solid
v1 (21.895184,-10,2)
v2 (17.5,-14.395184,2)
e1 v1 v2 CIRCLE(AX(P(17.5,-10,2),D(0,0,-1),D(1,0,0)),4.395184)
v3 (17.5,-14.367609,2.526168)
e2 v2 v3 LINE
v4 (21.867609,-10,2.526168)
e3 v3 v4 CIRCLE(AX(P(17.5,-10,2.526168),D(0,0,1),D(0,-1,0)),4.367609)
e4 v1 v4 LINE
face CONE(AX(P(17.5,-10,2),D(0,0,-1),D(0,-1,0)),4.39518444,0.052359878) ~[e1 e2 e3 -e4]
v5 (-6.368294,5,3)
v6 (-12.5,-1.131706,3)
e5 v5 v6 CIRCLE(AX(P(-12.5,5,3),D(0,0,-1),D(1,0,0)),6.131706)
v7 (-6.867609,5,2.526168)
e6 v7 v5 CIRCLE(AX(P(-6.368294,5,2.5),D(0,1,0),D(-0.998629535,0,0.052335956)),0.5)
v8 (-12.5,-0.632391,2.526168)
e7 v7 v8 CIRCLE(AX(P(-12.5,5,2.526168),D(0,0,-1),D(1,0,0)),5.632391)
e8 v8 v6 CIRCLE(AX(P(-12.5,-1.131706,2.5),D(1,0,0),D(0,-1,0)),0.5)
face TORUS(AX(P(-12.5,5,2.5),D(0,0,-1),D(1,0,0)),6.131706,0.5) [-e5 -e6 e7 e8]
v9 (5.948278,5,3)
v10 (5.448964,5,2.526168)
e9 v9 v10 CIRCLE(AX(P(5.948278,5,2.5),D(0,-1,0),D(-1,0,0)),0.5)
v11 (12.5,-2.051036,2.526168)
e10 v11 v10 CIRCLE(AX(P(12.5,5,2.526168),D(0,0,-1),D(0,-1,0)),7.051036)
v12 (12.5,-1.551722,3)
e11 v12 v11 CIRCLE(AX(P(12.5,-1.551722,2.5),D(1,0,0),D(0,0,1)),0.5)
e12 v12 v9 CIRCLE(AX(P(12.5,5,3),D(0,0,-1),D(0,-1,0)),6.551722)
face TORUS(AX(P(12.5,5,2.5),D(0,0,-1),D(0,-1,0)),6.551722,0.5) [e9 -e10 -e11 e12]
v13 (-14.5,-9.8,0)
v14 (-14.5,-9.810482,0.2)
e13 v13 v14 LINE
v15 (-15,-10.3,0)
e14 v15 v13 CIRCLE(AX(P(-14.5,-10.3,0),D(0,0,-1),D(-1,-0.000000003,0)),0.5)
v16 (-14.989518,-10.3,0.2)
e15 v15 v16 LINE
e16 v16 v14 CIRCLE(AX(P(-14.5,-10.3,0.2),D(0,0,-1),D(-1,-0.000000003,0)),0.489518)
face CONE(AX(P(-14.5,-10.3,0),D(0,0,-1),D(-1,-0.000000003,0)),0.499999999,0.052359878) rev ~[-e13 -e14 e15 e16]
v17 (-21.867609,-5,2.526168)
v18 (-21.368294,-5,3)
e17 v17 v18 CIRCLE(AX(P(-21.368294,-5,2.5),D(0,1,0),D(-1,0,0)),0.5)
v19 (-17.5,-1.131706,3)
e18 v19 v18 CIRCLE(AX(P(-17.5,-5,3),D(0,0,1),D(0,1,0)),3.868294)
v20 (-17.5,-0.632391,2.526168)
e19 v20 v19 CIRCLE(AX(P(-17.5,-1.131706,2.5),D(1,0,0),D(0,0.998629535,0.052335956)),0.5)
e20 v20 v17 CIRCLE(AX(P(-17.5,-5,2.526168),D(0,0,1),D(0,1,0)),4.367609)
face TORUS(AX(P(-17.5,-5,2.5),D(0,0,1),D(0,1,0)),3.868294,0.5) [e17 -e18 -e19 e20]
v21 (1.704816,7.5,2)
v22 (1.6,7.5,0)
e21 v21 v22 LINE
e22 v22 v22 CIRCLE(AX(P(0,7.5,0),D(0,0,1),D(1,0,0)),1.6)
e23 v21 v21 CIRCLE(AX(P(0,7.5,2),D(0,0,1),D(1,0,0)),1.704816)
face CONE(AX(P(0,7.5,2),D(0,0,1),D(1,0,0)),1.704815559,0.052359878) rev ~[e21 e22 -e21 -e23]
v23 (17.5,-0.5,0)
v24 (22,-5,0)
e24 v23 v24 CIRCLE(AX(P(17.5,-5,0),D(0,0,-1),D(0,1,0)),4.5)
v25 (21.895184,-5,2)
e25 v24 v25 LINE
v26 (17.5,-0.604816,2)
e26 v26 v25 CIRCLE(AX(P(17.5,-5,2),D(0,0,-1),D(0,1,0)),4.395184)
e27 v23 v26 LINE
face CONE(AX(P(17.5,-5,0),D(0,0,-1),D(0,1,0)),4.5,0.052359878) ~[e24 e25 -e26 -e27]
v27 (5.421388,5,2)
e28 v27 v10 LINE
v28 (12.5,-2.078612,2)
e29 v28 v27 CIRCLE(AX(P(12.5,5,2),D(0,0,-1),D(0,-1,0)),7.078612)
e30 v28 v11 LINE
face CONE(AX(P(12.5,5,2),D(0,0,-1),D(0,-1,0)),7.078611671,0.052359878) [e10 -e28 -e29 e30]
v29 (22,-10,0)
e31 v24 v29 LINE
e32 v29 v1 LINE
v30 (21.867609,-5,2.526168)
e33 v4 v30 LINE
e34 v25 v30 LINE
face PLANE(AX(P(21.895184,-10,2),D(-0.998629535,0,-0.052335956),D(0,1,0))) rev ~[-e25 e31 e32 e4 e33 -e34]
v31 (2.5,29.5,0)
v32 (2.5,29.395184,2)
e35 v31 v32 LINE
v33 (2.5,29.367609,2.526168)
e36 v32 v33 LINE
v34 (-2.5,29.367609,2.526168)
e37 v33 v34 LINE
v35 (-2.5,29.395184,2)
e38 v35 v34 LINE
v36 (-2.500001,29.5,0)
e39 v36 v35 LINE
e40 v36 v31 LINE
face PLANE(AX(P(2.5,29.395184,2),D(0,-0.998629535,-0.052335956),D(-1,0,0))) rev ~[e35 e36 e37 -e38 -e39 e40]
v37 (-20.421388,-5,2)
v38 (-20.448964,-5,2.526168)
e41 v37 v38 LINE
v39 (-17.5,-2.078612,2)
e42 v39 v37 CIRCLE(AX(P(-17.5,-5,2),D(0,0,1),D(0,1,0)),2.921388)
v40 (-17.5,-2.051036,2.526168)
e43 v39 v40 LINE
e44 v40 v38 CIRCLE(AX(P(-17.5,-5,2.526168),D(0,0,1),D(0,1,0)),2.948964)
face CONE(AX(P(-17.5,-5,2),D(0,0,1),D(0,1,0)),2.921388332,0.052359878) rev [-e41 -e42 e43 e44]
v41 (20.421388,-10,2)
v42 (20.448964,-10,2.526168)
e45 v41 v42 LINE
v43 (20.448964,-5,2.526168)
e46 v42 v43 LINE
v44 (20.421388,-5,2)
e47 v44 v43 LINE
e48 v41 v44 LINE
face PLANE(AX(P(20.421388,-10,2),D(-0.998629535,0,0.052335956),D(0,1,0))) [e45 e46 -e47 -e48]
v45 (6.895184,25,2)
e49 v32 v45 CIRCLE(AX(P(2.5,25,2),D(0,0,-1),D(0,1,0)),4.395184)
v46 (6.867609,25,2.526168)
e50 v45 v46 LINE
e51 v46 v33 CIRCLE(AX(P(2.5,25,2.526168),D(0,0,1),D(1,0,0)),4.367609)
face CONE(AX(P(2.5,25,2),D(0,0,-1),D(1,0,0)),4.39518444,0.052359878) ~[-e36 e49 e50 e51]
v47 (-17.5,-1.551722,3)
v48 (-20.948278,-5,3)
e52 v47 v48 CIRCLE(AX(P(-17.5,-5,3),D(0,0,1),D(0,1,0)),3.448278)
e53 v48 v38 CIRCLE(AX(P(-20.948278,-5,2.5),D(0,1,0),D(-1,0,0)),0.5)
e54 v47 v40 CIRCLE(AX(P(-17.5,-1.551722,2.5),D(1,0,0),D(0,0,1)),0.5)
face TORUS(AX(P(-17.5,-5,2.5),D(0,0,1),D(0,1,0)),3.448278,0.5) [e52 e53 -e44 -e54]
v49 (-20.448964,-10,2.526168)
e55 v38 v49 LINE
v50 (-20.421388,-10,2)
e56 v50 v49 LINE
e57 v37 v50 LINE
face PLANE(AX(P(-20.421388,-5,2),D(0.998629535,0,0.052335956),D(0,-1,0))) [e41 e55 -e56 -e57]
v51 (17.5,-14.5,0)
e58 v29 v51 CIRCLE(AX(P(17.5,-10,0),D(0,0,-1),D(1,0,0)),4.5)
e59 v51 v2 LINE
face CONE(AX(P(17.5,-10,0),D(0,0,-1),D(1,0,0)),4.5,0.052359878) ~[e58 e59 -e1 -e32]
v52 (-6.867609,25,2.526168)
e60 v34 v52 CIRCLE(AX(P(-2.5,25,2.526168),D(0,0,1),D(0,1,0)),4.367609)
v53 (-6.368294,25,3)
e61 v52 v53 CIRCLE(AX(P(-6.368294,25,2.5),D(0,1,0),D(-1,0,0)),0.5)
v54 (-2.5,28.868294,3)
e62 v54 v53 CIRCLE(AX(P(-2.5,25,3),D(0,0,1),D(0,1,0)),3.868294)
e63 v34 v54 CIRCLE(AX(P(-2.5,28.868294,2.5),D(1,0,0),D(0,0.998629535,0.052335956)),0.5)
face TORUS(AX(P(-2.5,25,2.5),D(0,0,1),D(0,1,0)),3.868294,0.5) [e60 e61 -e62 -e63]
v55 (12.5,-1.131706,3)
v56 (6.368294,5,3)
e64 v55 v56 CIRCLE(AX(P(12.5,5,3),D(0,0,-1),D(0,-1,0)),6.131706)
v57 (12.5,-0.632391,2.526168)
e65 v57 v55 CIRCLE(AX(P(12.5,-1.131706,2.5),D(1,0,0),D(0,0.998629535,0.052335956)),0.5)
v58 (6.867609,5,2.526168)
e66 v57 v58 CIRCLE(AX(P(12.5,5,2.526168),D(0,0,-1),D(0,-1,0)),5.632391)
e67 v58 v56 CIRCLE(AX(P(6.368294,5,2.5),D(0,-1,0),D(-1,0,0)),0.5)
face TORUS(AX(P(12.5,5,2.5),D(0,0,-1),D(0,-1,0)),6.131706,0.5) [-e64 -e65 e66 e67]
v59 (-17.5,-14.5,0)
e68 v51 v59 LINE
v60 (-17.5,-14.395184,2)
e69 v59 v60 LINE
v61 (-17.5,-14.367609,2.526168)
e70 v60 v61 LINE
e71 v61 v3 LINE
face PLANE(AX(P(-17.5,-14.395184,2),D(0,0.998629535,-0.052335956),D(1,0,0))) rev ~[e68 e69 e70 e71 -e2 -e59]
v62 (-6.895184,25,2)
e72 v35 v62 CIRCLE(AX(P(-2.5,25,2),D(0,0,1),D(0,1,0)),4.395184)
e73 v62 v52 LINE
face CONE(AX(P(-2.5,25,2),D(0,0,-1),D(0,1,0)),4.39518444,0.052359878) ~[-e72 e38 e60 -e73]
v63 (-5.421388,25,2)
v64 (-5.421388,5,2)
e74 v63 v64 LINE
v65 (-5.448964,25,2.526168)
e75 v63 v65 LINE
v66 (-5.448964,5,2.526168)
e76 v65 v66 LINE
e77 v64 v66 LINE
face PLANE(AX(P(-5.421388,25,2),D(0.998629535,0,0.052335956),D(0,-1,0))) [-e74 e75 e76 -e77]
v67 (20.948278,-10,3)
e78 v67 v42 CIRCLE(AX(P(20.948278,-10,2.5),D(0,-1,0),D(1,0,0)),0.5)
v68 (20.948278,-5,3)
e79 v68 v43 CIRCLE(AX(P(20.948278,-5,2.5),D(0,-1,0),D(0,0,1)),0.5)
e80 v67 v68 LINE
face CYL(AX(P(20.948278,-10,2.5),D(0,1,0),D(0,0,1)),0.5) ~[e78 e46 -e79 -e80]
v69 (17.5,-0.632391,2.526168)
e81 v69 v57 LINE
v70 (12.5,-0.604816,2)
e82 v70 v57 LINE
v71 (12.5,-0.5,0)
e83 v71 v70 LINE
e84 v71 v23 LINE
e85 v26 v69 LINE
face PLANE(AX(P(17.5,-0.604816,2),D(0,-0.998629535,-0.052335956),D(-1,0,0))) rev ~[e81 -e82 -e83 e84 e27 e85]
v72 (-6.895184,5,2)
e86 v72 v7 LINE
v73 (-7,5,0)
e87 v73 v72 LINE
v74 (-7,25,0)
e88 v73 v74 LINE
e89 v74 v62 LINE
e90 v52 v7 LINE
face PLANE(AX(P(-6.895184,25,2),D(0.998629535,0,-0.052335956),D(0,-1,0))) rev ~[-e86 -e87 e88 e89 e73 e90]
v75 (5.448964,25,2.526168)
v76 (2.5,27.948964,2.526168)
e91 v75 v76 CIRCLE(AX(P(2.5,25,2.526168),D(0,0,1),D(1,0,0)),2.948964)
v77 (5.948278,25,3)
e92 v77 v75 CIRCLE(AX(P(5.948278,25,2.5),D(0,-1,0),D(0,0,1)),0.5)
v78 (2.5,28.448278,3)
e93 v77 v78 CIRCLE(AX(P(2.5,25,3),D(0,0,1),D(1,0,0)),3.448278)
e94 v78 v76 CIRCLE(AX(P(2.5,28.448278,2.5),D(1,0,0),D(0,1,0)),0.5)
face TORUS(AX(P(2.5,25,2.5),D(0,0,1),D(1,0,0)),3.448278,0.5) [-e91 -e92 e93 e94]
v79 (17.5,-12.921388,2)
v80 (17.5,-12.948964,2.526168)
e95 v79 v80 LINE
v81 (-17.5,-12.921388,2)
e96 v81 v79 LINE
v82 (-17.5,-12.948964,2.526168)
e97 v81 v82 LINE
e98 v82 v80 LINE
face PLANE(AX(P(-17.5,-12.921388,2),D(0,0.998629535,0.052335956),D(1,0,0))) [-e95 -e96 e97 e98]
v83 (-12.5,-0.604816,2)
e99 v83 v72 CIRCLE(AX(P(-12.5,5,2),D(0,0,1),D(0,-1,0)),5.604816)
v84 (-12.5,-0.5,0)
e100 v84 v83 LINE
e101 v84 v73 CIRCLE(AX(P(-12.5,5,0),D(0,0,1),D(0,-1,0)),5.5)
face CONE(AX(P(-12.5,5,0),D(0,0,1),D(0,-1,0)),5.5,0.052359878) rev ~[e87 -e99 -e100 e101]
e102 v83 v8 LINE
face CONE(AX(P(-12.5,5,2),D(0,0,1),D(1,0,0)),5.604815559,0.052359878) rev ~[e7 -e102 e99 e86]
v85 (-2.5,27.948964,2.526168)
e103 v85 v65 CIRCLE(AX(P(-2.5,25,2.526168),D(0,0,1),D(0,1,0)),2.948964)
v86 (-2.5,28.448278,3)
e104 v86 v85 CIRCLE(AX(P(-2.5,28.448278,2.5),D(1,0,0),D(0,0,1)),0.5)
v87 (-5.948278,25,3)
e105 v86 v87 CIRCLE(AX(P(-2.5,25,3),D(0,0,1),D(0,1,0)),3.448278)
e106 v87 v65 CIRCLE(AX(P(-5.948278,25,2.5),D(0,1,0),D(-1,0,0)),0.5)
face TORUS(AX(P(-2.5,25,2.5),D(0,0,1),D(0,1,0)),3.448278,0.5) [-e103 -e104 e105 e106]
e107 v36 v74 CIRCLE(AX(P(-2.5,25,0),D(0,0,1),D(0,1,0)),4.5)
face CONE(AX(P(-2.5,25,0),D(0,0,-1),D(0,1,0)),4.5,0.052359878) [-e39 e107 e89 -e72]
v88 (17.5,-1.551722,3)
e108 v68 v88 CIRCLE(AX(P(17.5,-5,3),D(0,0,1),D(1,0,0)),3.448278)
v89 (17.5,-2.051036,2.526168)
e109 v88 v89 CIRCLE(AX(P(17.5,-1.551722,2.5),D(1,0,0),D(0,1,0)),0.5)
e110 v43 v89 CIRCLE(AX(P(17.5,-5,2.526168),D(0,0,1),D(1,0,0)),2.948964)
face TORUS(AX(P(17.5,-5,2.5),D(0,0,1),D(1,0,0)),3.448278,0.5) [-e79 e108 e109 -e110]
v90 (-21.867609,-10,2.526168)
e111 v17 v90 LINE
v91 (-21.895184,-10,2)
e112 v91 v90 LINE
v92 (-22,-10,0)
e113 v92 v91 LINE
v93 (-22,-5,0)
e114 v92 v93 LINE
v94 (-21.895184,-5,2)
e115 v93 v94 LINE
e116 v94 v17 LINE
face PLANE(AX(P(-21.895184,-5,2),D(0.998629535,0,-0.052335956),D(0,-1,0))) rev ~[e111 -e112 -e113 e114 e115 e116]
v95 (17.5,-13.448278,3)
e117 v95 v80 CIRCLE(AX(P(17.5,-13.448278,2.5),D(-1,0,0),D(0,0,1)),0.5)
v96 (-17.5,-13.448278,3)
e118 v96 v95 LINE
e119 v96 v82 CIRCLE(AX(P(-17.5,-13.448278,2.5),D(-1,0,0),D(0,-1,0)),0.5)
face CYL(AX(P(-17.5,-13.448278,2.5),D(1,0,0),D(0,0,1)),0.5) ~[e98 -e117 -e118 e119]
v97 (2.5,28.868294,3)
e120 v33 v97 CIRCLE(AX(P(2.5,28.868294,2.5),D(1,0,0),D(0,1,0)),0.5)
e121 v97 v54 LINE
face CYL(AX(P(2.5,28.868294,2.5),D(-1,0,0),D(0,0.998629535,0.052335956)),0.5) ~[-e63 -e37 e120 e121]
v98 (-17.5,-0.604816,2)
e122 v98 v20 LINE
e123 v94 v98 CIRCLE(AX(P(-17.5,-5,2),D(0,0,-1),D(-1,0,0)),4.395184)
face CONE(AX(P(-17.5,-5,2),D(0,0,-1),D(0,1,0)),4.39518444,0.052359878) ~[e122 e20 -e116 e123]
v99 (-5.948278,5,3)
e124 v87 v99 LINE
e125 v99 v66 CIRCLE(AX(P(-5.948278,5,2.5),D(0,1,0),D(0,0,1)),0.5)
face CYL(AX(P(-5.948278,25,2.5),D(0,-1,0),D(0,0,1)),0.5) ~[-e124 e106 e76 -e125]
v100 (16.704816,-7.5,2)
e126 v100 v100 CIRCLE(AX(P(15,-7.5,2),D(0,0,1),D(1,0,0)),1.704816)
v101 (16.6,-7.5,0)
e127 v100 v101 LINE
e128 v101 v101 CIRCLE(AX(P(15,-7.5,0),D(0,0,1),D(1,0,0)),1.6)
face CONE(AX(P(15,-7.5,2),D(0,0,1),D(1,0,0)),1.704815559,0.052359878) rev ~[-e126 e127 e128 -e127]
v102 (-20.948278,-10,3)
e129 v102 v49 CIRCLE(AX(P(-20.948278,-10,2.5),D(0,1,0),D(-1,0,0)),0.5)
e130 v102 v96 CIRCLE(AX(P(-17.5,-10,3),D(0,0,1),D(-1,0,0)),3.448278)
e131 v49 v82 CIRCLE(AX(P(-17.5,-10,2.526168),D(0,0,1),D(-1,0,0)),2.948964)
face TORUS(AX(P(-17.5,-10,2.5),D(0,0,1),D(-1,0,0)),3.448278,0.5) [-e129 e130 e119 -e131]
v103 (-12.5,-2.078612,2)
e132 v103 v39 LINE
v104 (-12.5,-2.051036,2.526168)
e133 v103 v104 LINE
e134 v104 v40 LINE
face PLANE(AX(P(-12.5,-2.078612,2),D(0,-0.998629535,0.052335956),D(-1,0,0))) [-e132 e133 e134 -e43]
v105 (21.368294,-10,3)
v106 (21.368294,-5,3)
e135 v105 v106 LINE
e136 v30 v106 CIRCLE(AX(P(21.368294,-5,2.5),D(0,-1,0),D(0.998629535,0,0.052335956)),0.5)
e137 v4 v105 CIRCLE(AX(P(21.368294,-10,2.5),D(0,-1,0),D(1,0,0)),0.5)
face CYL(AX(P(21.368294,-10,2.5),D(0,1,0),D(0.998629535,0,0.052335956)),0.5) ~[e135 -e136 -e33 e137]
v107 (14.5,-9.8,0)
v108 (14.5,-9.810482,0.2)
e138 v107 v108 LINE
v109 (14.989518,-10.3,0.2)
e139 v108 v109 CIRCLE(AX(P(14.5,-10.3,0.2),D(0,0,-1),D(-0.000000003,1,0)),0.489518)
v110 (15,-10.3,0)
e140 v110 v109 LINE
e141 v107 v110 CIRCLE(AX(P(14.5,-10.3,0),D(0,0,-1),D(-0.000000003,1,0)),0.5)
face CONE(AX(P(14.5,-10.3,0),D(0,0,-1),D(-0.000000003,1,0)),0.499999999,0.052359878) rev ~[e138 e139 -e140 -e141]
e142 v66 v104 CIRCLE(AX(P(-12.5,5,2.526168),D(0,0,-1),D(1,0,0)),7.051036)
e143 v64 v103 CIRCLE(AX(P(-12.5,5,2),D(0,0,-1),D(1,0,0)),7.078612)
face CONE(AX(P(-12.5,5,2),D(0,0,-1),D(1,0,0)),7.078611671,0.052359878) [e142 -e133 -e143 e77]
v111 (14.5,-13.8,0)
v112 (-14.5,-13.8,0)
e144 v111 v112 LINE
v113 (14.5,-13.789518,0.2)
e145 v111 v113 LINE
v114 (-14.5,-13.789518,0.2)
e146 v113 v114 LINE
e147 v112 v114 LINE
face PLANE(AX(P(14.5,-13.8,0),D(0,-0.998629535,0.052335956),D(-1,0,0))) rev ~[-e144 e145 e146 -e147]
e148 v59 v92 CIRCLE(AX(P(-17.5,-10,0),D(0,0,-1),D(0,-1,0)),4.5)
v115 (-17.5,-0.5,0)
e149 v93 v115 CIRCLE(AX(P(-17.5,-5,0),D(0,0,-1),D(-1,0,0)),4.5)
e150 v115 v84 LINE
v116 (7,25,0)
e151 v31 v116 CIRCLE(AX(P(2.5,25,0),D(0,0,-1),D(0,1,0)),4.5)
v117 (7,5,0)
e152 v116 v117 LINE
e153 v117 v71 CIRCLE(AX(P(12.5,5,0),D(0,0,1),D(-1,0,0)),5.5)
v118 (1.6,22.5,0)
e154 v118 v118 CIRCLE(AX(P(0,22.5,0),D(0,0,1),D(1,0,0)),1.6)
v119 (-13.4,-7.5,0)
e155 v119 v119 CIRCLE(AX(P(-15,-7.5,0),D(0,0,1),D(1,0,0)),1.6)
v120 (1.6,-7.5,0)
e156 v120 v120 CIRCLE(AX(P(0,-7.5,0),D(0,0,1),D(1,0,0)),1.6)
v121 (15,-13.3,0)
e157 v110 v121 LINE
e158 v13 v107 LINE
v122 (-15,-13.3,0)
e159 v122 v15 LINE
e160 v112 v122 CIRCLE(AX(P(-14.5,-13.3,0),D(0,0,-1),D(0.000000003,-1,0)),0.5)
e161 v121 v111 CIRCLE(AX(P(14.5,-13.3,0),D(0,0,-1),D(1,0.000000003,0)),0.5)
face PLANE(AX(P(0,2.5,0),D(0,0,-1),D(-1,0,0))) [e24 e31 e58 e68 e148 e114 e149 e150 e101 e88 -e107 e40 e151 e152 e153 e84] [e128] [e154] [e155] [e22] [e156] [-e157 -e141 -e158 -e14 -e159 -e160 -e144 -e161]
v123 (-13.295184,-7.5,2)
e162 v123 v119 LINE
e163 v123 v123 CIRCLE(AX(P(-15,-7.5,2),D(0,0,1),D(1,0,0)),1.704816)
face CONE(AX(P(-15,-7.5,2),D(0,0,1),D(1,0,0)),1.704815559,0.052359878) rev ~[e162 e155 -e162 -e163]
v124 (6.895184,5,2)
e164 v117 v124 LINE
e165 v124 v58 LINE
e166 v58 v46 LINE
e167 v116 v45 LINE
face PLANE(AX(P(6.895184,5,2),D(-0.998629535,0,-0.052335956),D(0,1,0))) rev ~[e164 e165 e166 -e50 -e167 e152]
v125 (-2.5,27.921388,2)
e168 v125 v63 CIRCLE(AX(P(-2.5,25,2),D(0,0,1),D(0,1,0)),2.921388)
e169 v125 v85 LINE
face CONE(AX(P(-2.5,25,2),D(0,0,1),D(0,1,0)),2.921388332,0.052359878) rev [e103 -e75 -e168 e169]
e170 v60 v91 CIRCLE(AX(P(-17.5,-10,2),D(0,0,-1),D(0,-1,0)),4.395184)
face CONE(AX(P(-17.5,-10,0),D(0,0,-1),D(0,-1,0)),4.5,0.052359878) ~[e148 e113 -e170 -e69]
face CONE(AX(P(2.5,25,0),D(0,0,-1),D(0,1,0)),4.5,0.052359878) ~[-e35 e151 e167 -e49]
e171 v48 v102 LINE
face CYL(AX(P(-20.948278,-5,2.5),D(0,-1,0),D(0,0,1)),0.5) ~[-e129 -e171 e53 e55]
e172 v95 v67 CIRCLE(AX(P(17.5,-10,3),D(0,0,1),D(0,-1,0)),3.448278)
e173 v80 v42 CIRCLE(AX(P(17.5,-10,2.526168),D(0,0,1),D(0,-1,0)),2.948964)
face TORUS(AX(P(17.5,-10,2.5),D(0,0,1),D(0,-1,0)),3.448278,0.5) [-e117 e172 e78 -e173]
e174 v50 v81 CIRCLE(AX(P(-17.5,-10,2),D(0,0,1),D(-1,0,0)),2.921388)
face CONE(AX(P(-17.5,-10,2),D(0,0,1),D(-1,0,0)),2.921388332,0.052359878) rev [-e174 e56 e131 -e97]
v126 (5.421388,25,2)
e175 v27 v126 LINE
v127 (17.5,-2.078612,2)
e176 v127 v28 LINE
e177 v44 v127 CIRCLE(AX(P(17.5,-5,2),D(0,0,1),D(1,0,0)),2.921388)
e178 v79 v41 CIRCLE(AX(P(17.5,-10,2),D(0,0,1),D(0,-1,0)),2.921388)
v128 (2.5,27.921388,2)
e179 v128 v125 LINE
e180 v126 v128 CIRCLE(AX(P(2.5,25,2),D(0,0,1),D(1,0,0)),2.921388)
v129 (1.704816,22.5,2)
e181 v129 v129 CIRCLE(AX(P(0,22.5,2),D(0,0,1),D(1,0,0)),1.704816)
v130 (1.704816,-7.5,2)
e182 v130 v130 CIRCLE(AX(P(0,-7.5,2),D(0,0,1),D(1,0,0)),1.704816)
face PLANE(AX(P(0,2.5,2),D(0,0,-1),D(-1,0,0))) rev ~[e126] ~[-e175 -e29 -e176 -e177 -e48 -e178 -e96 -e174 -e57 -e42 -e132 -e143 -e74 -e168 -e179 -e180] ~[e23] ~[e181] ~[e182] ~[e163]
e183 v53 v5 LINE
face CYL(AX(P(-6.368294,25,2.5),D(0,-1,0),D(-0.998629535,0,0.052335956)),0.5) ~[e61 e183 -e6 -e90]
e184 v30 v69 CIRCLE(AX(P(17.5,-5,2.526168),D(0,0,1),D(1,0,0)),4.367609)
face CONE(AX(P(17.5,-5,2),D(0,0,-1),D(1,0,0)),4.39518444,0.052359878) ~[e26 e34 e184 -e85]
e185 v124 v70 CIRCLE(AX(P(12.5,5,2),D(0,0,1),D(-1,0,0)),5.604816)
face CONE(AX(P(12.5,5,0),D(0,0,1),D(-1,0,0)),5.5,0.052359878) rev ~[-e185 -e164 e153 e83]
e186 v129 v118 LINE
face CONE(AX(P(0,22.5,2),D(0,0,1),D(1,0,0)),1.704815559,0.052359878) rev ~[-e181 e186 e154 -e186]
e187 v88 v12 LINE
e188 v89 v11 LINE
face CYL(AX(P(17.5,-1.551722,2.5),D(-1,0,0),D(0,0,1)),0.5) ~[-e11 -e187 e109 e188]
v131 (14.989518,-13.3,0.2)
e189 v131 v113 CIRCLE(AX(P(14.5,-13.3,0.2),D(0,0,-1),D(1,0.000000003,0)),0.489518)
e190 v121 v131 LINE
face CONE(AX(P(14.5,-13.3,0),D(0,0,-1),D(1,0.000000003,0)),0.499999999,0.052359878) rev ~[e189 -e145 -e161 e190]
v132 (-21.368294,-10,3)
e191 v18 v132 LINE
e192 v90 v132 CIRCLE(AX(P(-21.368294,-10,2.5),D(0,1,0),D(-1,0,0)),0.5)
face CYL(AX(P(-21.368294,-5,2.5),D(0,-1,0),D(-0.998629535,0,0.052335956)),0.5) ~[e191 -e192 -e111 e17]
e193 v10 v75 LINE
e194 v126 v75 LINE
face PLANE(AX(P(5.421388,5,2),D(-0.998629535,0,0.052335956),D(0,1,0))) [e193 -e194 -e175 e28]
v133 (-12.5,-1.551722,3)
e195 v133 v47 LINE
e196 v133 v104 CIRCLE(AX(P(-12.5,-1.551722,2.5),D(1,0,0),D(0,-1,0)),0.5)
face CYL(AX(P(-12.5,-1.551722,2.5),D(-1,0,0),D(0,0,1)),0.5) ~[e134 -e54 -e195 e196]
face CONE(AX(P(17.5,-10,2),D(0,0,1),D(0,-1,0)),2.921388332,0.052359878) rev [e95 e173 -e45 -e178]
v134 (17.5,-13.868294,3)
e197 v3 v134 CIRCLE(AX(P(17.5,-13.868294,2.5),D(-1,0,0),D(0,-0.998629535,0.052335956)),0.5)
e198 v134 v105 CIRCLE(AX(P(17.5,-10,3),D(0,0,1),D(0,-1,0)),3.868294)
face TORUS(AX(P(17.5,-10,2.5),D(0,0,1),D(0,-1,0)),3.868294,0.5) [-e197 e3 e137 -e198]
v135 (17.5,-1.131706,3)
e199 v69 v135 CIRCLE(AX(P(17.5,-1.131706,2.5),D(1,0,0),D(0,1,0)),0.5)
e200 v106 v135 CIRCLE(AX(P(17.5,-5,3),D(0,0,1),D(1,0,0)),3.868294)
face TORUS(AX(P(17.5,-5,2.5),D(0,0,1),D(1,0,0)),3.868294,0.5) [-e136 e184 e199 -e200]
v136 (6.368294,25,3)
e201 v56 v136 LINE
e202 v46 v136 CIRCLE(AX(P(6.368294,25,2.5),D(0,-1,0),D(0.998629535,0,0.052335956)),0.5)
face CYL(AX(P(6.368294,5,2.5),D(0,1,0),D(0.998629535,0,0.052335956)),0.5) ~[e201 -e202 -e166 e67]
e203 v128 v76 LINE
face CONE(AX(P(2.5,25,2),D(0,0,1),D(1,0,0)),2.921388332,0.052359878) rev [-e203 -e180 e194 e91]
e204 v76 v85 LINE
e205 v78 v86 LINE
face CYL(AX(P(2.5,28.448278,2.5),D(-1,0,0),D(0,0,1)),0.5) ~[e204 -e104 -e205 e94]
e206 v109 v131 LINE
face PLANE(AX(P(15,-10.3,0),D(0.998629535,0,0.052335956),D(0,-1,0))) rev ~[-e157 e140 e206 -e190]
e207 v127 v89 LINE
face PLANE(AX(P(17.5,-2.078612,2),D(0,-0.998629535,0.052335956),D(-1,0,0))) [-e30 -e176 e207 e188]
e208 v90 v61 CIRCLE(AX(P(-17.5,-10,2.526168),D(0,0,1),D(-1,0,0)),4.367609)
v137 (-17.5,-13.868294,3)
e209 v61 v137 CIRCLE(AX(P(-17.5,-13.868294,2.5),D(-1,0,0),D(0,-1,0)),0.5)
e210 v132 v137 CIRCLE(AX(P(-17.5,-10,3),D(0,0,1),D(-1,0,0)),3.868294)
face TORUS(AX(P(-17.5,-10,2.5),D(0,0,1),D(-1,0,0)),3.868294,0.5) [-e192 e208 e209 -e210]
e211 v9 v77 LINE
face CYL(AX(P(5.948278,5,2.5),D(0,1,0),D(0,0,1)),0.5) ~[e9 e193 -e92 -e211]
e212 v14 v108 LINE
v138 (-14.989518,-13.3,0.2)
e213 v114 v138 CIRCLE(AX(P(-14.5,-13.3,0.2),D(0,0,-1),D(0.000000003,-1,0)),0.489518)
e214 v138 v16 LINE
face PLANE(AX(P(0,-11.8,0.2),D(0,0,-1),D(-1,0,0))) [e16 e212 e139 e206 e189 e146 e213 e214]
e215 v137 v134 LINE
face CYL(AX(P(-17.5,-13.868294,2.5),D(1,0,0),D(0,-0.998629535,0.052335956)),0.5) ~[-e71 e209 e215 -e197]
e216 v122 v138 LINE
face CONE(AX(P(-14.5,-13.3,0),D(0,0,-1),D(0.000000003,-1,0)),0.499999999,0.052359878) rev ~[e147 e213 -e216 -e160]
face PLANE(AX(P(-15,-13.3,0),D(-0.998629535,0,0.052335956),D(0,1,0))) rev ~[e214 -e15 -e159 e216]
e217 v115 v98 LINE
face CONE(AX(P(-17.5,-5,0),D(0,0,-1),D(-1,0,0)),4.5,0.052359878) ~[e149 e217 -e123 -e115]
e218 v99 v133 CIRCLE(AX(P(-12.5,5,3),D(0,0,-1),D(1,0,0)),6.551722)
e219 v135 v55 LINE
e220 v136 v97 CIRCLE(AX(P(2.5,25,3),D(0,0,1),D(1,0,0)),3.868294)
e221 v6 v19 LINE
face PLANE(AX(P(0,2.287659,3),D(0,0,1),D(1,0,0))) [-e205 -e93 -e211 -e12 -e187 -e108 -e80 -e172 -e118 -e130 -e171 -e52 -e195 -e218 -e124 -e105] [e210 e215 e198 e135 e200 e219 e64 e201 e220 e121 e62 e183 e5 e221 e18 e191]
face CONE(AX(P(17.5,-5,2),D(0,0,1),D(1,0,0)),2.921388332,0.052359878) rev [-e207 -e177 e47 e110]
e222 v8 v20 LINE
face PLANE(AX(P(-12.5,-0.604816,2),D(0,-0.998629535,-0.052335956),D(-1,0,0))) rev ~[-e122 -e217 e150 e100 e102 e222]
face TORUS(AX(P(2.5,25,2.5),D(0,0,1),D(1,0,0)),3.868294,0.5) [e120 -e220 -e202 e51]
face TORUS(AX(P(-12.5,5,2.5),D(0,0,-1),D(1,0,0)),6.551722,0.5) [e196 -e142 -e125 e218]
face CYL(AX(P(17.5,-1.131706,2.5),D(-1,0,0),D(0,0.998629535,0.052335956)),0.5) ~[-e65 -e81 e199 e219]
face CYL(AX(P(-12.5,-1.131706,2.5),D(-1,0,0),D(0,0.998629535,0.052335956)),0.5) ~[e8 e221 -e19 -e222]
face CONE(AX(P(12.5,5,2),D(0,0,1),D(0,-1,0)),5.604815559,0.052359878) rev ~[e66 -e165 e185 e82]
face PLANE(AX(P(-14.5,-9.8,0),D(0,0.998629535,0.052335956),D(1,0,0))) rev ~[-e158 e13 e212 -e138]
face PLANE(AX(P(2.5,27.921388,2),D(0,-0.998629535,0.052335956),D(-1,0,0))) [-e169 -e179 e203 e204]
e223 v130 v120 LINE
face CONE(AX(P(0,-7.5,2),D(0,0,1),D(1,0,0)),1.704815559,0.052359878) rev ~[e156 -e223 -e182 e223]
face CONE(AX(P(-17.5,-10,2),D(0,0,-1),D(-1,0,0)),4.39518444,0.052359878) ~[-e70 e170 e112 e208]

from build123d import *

# Parameters (mm, degrees)
BOSS_EXTRUDE1_DEPTH = 2
FILLET1_R           = 5
SKETCH2_R           = 1.6
CUT_EXTRUDE1_DEPTH  = 38.553295461
MOVE_FACE1_BY       = 0.5
MOVE_FACE1_2_BY     = 0.5
MOVE_FACE1_3_BY     = 0.5
MOVE_FACE1_4_BY     = 0.5
MOVE_FACE1_5_BY     = 0.5
MOVE_FACE1_6_BY     = 0.5
MOVE_FACE1_7_BY     = 0.5
MOVE_FACE1_8_BY     = 0.5
MOVE_FACE1_9_BY     = 0.5
MOVE_FACE1_10_BY    = 0.5
MOVE_FACE1_11_BY    = 0.5
MOVE_FACE1_12_BY    = 0.5
MOVE_FACE1_13_BY    = 0.5
MOVE_FACE1_14_BY    = 0.5
MOVE_FACE1_15_BY    = 0.5
MOVE_FACE1_16_BY    = 0.5
DRAFT1_ANGLE        = -3
BOSS_EXTRUDE3_DEPTH = 1
BOSS_EXTRUDE3_DRAFT = 3
FILLET3_R           = 0.5
CUT_EXTRUDE2_DEPTH  = 0.2
CUT_EXTRUDE2_DRAFT  = -3


with BuildPart() as part:
    # Sketch1 → Boss-Extrude1 (new body)
    with BuildSketch(Plane.XY):
        Polygon((-7.5, 30), (7.5, 30), (7.5, 0), (22.5, 0), (22.5, -15), (-22.5, -15), (-22.5, 0), (-7.5, 0), align=None)
    extrude(amount=BOSS_EXTRUDE1_DEPTH)

    # Fillet1
    fillet1_edges = [part.edges().sort_by_distance(p)[0] for p in [
        (-7.5, 30, 1),
        (7.5, 30, 1),
        (7.5, 0, 1),
        (22.5, 0, 1),
        (22.5, -15, 1),
        (-22.5, -15, 1),
        (-22.5, 0, 1),
        (-7.5, 0, 1),
    ]]
    fillet(fillet1_edges, radius=FILLET1_R)

    # Sketch2 → Cut-Extrude1 (cut, through all)
    with BuildSketch(Plane.XY.offset(2)):
        with Locations((-15, -7.5)):
            Circle(SKETCH2_R)
        with Locations((0, -7.5)):
            Circle(SKETCH2_R)
        with Locations((15, -7.5)):
            Circle(SKETCH2_R)
        with Locations((0, 22.5)):
            Circle(SKETCH2_R)
        with Locations((0, 7.5)):
            Circle(SKETCH2_R)
    extrude(amount=-CUT_EXTRUDE1_DEPTH, mode=Mode.SUBTRACT)

    # Move Face1: a curved face moved inward by 0.5
    add(Solid.thicken(part.faces().sort_by_distance((-8.964466094, 1.464466094, 1))[0], -MOVE_FACE1_BY), mode=Mode.SUBTRACT)

    # Move Face1 2: a face moved inward by 0.5
    extrude(part.faces().sort_by_distance((-15, 0, 1))[0], amount=MOVE_FACE1_2_BY, dir=(0, -1, 0), mode=Mode.SUBTRACT)

    # Move Face1 3: a curved face moved inward by 0.5
    add(Solid.thicken(part.faces().sort_by_distance((-21.035533906, -1.464466094, 1))[0], -MOVE_FACE1_3_BY), mode=Mode.SUBTRACT)

    # Move Face1 4: a face moved inward by 0.5
    extrude(part.faces().sort_by_distance((-22.5, -7.5, 1))[0], amount=MOVE_FACE1_4_BY, dir=(1, 0, 0), mode=Mode.SUBTRACT)

    # Move Face1 5: a curved face moved inward by 0.5
    add(Solid.thicken(part.faces().sort_by_distance((-21.035533906, -13.535533906, 1))[0], -MOVE_FACE1_5_BY), mode=Mode.SUBTRACT)

    # Move Face1 6: a face moved inward by 0.5
    extrude(part.faces().sort_by_distance((0, -15, 1))[0], amount=MOVE_FACE1_6_BY, dir=(0, 1, 0), mode=Mode.SUBTRACT)

    # Move Face1 7: a curved face moved inward by 0.5
    add(Solid.thicken(part.faces().sort_by_distance((21.035533906, -13.535533906, 1))[0], -MOVE_FACE1_7_BY), mode=Mode.SUBTRACT)

    # Move Face1 8: a face moved inward by 0.5
    extrude(part.faces().sort_by_distance((22.5, -7.5, 1))[0], amount=MOVE_FACE1_8_BY, dir=(-1, 0, 0), mode=Mode.SUBTRACT)

    # Move Face1 9: a curved face moved inward by 0.5
    add(Solid.thicken(part.faces().sort_by_distance((21.035533906, -1.464466094, 1))[0], -MOVE_FACE1_9_BY), mode=Mode.SUBTRACT)

    # Move Face1 10: a face moved inward by 0.5
    extrude(part.faces().sort_by_distance((15, 0, 1))[0], amount=MOVE_FACE1_10_BY, dir=(0, -1, 0), mode=Mode.SUBTRACT)

    # Move Face1 11: a curved face moved inward by 0.5
    add(Solid.thicken(part.faces().sort_by_distance((8.964466094, 1.464466094, 1))[0], -MOVE_FACE1_11_BY), mode=Mode.SUBTRACT)

    # Move Face1 12: a face moved inward by 0.5
    extrude(part.faces().sort_by_distance((7.5, 15, 1))[0], amount=MOVE_FACE1_12_BY, dir=(-1, 0, 0), mode=Mode.SUBTRACT)

    # Move Face1 13: a curved face moved inward by 0.5
    add(Solid.thicken(part.faces().sort_by_distance((6.035533906, 28.535533906, 1))[0], -MOVE_FACE1_13_BY), mode=Mode.SUBTRACT)

    # Move Face1 14: a face moved inward by 0.5
    extrude(part.faces().sort_by_distance((0, 30, 1))[0], amount=MOVE_FACE1_14_BY, dir=(0, -1, 0), mode=Mode.SUBTRACT)

    # Move Face1 15: a curved face moved inward by 0.5
    add(Solid.thicken(part.faces().sort_by_distance((-6.035533906, 28.535533906, 1))[0], -MOVE_FACE1_15_BY), mode=Mode.SUBTRACT)

    # Move Face1 16: a face moved inward by 0.5
    extrude(part.faces().sort_by_distance((-7.5, 15, 1))[0], amount=MOVE_FACE1_16_BY, dir=(1, 0, 0), mode=Mode.SUBTRACT)

    # Draft1
    draft1_faces = [part.faces().sort_by_distance(p)[0] for p in [
        (13.4, -7.5, 1),
        (-1.6, 22.5, 1),
        (-1.6, 7.5, 1),
        (-1.6, -7.5, 1),
        (-16.6, -7.5, 1),
        (-20.681980515, -1.818019485, 1),
        (-22, -7.5, 1),
        (-20.681980515, -13.181980515, 1),
        (0, -14.5, 1),
        (20.681980515, -13.181980515, 1),
        (22, -7.5, 1),
        (20.681980515, -1.818019485, 1),
        (15, -0.5, 1),
        (8.610912703, 1.110912703, 1),
        (7, 15, 1),
        (5.681980515, 28.181980515, 1),
        (0, 29.5, 1),
        (-5.681980515, 28.181980515, 1),
        (-7, 15, 1),
        (-8.610912703, 1.110912703, 1),
        (-15, -0.5, 1),
    ]]
    draft(draft1_faces, Plane(origin=(0, 0, 0), x_dir=(-1, 0, 0), z_dir=(0, 0, -1)), DRAFT1_ANGLE)


with BuildPart() as boss_extrude3_tool:
    # Sketch4 → Boss-Extrude3 (with draft: the straight prism first)
    with BuildSketch(Plane.XY.offset(2)):
        with BuildLine():
            Line((-17.5, -14.395184441), (17.5, -14.395184441))
            ThreePointArc((17.5, -14.395184441), (20.607864723, -13.107864723), (21.895184441, -10))
            Line((21.895184441, -10), (21.895184441, -5))
            ThreePointArc((21.895184441, -5), (20.607864723, -1.892135277), (17.5, -0.604815559))
            Line((17.5, -0.604815559), (12.5, -0.604815559))
            ThreePointArc((12.5, -0.604815559), (8.536796911, 1.036796911), (6.895184441, 5))
            Line((6.895184441, 5), (6.895184441, 25))
            ThreePointArc((6.895184441, 25), (5.607864723, 28.107864723), (2.5, 29.395184441))
            Line((2.5, 29.395184441), (-2.5, 29.395184441))
            ThreePointArc((-2.5, 29.395184441), (-5.607864723, 28.107864723), (-6.895184441, 25))
            Line((-6.895184441, 25), (-6.895184441, 5))
            ThreePointArc((-6.895184441, 5), (-8.536796911, 1.036796911), (-12.5, -0.604815559))
            Line((-12.5, -0.604815559), (-17.5, -0.604815559))
            ThreePointArc((-17.5, -0.604815559), (-20.607864723, -1.892135277), (-21.895184441, -5))
            Line((-21.895184441, -5), (-21.895184441, -10))
            ThreePointArc((-21.895184441, -10), (-20.607864723, -13.107864723), (-17.5, -14.395184441))
        make_face()
        with BuildLine():
            Line((-17.5, -12.921388331), (17.5, -12.921388331))
            ThreePointArc((17.5, -12.921388331), (19.565733499, -12.065733499), (20.421388331, -10))
            Line((20.421388331, -10), (20.421388331, -5))
            ThreePointArc((20.421388331, -5), (19.565733499, -2.934266501), (17.5, -2.078611669))
            Line((17.5, -2.078611669), (12.5, -2.078611669))
            ThreePointArc((12.5, -2.078611669), (7.494665688, -0.005334312), (5.421388331, 5))
            Line((5.421388331, 5), (5.421388331, 25))
            ThreePointArc((5.421388331, 25), (4.565733499, 27.065733499), (2.5, 27.921388331))
            Line((2.5, 27.921388331), (-2.5, 27.921388331))
            ThreePointArc((-2.5, 27.921388331), (-4.565733499, 27.065733499), (-5.421388331, 25))
            Line((-5.421388331, 25), (-5.421388331, 5))
            ThreePointArc((-5.421388331, 5), (-7.494665688, -0.005334312), (-12.5, -2.078611669))
            Line((-12.5, -2.078611669), (-17.5, -2.078611669))
            ThreePointArc((-17.5, -2.078611669), (-19.565733499, -2.934266501), (-20.421388331, -5))
            Line((-20.421388331, -5), (-20.421388331, -10))
            ThreePointArc((-20.421388331, -10), (-19.565733499, -12.065733499), (-17.5, -12.921388331))
        make_face(mode=Mode.SUBTRACT)
    extrude(amount=BOSS_EXTRUDE3_DEPTH)
    # Boss-Extrude3: the draft: its side faces are tilted about the plane it starts from
    boss_extrude3_sides = [boss_extrude3_tool.faces().sort_by_distance(p)[0] for p in [
        (-20.607864723, -1.892135277, 2.5),
        (-21.895184441, -7.5, 2.5),
        (-20.607864723, -13.107864723, 2.5),
        (0, -14.395184441, 2.5),
        (20.607864723, -13.107864723, 2.5),
        (21.895184441, -7.5, 2.5),
        (20.607864723, -1.892135277, 2.5),
        (15, -0.604815559, 2.5),
        (8.536796911, 1.036796911, 2.5),
        (6.895184441, 15, 2.5),
        (5.607864723, 28.107864723, 2.5),
        (0, 29.395184441, 2.5),
        (-5.607864723, 28.107864723, 2.5),
        (-6.895184441, 15, 2.5),
        (-8.536796911, 1.036796911, 2.5),
        (-15, -0.604815559, 2.5),
        (-15, -2.078611669, 2.5),
        (-7.494665688, -0.005334312, 2.5),
        (-5.421388331, 15, 2.5),
        (-4.565733499, 27.065733499, 2.5),
        (0, 27.921388331, 2.5),
        (4.565733499, 27.065733499, 2.5),
        (5.421388331, 15, 2.5),
        (7.494665688, -0.005334312, 2.5),
        (15, -2.078611669, 2.5),
        (19.565733499, -2.934266501, 2.5),
        (20.421388331, -7.5, 2.5),
        (19.565733499, -12.065733499, 2.5),
        (0, -12.921388331, 2.5),
        (-19.565733499, -12.065733499, 2.5),
        (-20.421388331, -7.5, 2.5),
        (-19.565733499, -2.934266501, 2.5),
    ]]
    draft(boss_extrude3_sides, Plane.XY.offset(2), BOSS_EXTRUDE3_DRAFT)


with BuildPart() as part_1:
    add(part.part)

    # Boss-Extrude3: add boss_extrude3_tool
    add(boss_extrude3_tool.part)

    # Fillet3
    fillet3_edges = [part_1.edges().sort_by_distance(p)[0] for p in [
        (-20.570806827, -13.070806827, 3),
        (0, -14.342776662, 3),
        (20.570806827, -13.070806827, 3),
        (21.842776662, -7.5, 3),
        (20.570806827, -1.929193173, 3),
        (15, -0.657223338, 3),
        (8.499739015, 0.999739015, 3),
        (6.842776662, 15, 3),
        (5.570806827, 28.070806827, 3),
        (0, 29.342776662, 3),
        (-5.570806827, 28.070806827, 3),
        (-6.842776662, 15, 3),
        (-8.499739015, 0.999739015, 3),
        (-15, -0.657223338, 3),
        (-20.570806827, -1.929193173, 3),
        (-21.842776662, -7.5, 3),
        (-19.602791396, -12.102791396, 3),
        (0, -12.97379611, 3),
        (19.602791396, -12.102791396, 3),
        (20.47379611, -7.5, 3),
        (19.602791396, -2.897208604, 3),
        (15, -2.02620389, 3),
        (7.531723584, 0.031723584, 3),
        (5.47379611, 15, 3),
        (4.602791396, 27.102791396, 3),
        (0, 27.97379611, 3),
        (-4.602791396, 27.102791396, 3),
        (-5.47379611, 15, 3),
        (-7.531723584, 0.031723584, 3),
        (-15, -2.02620389, 3),
        (-19.602791396, -2.897208604, 3),
        (-20.47379611, -7.5, 3),
    ]]
    fillet(fillet3_edges, radius=FILLET3_R)


with BuildPart() as cut_extrude2_tool:
    # Sketch5 → Cut-Extrude2 (with draft: the straight prism first)
    with BuildSketch(Plane(origin=(0, 0, 0), x_dir=(-1, 0, 0), z_dir=(0, 0, -1))):
        with BuildLine():
            Line((-14.5, -13.8), (14.5, -13.8))
            ThreePointArc((14.5, -13.8), (14.853553391, -13.653553391), (15, -13.3))
            Line((15, -13.3), (15, -10.3))
            ThreePointArc((15, -10.3), (14.853553391, -9.946446609), (14.5, -9.8))
            Line((14.5, -9.8), (-14.5, -9.8))
            ThreePointArc((-14.5, -9.8), (-14.853553391, -9.946446609), (-15, -10.3))
            Line((-15, -10.3), (-15, -13.3))
            ThreePointArc((-15, -13.3), (-14.853553391, -13.653553391), (-14.5, -13.8))
        make_face()
    extrude(amount=-CUT_EXTRUDE2_DEPTH)
    # Cut-Extrude2: the draft: its side faces are tilted about the plane it starts from
    cut_extrude2_sides = [cut_extrude2_tool.faces().sort_by_distance(p)[0] for p in [
        (0, -13.8, 0.1),
        (-14.853553391, -13.653553391, 0.1),
        (-15, -11.8, 0.1),
        (-14.853553391, -9.946446609, 0.1),
        (0, -9.8, 0.1),
        (14.853553391, -9.946446609, 0.1),
        (15, -11.8, 0.1),
        (14.853553391, -13.653553391, 0.1),
    ]]
    draft(cut_extrude2_sides, Plane(origin=(0, 0, 0), x_dir=(-1, 0, 0), z_dir=(0, 0, -1)), CUT_EXTRUDE2_DRAFT)


with BuildPart() as part_2:
    add(part_1.part)

    # Cut-Extrude2: cut by cut_extrude2_tool
    add(cut_extrude2_tool.part, mode=Mode.SUBTRACT)


solid = part_2.part
